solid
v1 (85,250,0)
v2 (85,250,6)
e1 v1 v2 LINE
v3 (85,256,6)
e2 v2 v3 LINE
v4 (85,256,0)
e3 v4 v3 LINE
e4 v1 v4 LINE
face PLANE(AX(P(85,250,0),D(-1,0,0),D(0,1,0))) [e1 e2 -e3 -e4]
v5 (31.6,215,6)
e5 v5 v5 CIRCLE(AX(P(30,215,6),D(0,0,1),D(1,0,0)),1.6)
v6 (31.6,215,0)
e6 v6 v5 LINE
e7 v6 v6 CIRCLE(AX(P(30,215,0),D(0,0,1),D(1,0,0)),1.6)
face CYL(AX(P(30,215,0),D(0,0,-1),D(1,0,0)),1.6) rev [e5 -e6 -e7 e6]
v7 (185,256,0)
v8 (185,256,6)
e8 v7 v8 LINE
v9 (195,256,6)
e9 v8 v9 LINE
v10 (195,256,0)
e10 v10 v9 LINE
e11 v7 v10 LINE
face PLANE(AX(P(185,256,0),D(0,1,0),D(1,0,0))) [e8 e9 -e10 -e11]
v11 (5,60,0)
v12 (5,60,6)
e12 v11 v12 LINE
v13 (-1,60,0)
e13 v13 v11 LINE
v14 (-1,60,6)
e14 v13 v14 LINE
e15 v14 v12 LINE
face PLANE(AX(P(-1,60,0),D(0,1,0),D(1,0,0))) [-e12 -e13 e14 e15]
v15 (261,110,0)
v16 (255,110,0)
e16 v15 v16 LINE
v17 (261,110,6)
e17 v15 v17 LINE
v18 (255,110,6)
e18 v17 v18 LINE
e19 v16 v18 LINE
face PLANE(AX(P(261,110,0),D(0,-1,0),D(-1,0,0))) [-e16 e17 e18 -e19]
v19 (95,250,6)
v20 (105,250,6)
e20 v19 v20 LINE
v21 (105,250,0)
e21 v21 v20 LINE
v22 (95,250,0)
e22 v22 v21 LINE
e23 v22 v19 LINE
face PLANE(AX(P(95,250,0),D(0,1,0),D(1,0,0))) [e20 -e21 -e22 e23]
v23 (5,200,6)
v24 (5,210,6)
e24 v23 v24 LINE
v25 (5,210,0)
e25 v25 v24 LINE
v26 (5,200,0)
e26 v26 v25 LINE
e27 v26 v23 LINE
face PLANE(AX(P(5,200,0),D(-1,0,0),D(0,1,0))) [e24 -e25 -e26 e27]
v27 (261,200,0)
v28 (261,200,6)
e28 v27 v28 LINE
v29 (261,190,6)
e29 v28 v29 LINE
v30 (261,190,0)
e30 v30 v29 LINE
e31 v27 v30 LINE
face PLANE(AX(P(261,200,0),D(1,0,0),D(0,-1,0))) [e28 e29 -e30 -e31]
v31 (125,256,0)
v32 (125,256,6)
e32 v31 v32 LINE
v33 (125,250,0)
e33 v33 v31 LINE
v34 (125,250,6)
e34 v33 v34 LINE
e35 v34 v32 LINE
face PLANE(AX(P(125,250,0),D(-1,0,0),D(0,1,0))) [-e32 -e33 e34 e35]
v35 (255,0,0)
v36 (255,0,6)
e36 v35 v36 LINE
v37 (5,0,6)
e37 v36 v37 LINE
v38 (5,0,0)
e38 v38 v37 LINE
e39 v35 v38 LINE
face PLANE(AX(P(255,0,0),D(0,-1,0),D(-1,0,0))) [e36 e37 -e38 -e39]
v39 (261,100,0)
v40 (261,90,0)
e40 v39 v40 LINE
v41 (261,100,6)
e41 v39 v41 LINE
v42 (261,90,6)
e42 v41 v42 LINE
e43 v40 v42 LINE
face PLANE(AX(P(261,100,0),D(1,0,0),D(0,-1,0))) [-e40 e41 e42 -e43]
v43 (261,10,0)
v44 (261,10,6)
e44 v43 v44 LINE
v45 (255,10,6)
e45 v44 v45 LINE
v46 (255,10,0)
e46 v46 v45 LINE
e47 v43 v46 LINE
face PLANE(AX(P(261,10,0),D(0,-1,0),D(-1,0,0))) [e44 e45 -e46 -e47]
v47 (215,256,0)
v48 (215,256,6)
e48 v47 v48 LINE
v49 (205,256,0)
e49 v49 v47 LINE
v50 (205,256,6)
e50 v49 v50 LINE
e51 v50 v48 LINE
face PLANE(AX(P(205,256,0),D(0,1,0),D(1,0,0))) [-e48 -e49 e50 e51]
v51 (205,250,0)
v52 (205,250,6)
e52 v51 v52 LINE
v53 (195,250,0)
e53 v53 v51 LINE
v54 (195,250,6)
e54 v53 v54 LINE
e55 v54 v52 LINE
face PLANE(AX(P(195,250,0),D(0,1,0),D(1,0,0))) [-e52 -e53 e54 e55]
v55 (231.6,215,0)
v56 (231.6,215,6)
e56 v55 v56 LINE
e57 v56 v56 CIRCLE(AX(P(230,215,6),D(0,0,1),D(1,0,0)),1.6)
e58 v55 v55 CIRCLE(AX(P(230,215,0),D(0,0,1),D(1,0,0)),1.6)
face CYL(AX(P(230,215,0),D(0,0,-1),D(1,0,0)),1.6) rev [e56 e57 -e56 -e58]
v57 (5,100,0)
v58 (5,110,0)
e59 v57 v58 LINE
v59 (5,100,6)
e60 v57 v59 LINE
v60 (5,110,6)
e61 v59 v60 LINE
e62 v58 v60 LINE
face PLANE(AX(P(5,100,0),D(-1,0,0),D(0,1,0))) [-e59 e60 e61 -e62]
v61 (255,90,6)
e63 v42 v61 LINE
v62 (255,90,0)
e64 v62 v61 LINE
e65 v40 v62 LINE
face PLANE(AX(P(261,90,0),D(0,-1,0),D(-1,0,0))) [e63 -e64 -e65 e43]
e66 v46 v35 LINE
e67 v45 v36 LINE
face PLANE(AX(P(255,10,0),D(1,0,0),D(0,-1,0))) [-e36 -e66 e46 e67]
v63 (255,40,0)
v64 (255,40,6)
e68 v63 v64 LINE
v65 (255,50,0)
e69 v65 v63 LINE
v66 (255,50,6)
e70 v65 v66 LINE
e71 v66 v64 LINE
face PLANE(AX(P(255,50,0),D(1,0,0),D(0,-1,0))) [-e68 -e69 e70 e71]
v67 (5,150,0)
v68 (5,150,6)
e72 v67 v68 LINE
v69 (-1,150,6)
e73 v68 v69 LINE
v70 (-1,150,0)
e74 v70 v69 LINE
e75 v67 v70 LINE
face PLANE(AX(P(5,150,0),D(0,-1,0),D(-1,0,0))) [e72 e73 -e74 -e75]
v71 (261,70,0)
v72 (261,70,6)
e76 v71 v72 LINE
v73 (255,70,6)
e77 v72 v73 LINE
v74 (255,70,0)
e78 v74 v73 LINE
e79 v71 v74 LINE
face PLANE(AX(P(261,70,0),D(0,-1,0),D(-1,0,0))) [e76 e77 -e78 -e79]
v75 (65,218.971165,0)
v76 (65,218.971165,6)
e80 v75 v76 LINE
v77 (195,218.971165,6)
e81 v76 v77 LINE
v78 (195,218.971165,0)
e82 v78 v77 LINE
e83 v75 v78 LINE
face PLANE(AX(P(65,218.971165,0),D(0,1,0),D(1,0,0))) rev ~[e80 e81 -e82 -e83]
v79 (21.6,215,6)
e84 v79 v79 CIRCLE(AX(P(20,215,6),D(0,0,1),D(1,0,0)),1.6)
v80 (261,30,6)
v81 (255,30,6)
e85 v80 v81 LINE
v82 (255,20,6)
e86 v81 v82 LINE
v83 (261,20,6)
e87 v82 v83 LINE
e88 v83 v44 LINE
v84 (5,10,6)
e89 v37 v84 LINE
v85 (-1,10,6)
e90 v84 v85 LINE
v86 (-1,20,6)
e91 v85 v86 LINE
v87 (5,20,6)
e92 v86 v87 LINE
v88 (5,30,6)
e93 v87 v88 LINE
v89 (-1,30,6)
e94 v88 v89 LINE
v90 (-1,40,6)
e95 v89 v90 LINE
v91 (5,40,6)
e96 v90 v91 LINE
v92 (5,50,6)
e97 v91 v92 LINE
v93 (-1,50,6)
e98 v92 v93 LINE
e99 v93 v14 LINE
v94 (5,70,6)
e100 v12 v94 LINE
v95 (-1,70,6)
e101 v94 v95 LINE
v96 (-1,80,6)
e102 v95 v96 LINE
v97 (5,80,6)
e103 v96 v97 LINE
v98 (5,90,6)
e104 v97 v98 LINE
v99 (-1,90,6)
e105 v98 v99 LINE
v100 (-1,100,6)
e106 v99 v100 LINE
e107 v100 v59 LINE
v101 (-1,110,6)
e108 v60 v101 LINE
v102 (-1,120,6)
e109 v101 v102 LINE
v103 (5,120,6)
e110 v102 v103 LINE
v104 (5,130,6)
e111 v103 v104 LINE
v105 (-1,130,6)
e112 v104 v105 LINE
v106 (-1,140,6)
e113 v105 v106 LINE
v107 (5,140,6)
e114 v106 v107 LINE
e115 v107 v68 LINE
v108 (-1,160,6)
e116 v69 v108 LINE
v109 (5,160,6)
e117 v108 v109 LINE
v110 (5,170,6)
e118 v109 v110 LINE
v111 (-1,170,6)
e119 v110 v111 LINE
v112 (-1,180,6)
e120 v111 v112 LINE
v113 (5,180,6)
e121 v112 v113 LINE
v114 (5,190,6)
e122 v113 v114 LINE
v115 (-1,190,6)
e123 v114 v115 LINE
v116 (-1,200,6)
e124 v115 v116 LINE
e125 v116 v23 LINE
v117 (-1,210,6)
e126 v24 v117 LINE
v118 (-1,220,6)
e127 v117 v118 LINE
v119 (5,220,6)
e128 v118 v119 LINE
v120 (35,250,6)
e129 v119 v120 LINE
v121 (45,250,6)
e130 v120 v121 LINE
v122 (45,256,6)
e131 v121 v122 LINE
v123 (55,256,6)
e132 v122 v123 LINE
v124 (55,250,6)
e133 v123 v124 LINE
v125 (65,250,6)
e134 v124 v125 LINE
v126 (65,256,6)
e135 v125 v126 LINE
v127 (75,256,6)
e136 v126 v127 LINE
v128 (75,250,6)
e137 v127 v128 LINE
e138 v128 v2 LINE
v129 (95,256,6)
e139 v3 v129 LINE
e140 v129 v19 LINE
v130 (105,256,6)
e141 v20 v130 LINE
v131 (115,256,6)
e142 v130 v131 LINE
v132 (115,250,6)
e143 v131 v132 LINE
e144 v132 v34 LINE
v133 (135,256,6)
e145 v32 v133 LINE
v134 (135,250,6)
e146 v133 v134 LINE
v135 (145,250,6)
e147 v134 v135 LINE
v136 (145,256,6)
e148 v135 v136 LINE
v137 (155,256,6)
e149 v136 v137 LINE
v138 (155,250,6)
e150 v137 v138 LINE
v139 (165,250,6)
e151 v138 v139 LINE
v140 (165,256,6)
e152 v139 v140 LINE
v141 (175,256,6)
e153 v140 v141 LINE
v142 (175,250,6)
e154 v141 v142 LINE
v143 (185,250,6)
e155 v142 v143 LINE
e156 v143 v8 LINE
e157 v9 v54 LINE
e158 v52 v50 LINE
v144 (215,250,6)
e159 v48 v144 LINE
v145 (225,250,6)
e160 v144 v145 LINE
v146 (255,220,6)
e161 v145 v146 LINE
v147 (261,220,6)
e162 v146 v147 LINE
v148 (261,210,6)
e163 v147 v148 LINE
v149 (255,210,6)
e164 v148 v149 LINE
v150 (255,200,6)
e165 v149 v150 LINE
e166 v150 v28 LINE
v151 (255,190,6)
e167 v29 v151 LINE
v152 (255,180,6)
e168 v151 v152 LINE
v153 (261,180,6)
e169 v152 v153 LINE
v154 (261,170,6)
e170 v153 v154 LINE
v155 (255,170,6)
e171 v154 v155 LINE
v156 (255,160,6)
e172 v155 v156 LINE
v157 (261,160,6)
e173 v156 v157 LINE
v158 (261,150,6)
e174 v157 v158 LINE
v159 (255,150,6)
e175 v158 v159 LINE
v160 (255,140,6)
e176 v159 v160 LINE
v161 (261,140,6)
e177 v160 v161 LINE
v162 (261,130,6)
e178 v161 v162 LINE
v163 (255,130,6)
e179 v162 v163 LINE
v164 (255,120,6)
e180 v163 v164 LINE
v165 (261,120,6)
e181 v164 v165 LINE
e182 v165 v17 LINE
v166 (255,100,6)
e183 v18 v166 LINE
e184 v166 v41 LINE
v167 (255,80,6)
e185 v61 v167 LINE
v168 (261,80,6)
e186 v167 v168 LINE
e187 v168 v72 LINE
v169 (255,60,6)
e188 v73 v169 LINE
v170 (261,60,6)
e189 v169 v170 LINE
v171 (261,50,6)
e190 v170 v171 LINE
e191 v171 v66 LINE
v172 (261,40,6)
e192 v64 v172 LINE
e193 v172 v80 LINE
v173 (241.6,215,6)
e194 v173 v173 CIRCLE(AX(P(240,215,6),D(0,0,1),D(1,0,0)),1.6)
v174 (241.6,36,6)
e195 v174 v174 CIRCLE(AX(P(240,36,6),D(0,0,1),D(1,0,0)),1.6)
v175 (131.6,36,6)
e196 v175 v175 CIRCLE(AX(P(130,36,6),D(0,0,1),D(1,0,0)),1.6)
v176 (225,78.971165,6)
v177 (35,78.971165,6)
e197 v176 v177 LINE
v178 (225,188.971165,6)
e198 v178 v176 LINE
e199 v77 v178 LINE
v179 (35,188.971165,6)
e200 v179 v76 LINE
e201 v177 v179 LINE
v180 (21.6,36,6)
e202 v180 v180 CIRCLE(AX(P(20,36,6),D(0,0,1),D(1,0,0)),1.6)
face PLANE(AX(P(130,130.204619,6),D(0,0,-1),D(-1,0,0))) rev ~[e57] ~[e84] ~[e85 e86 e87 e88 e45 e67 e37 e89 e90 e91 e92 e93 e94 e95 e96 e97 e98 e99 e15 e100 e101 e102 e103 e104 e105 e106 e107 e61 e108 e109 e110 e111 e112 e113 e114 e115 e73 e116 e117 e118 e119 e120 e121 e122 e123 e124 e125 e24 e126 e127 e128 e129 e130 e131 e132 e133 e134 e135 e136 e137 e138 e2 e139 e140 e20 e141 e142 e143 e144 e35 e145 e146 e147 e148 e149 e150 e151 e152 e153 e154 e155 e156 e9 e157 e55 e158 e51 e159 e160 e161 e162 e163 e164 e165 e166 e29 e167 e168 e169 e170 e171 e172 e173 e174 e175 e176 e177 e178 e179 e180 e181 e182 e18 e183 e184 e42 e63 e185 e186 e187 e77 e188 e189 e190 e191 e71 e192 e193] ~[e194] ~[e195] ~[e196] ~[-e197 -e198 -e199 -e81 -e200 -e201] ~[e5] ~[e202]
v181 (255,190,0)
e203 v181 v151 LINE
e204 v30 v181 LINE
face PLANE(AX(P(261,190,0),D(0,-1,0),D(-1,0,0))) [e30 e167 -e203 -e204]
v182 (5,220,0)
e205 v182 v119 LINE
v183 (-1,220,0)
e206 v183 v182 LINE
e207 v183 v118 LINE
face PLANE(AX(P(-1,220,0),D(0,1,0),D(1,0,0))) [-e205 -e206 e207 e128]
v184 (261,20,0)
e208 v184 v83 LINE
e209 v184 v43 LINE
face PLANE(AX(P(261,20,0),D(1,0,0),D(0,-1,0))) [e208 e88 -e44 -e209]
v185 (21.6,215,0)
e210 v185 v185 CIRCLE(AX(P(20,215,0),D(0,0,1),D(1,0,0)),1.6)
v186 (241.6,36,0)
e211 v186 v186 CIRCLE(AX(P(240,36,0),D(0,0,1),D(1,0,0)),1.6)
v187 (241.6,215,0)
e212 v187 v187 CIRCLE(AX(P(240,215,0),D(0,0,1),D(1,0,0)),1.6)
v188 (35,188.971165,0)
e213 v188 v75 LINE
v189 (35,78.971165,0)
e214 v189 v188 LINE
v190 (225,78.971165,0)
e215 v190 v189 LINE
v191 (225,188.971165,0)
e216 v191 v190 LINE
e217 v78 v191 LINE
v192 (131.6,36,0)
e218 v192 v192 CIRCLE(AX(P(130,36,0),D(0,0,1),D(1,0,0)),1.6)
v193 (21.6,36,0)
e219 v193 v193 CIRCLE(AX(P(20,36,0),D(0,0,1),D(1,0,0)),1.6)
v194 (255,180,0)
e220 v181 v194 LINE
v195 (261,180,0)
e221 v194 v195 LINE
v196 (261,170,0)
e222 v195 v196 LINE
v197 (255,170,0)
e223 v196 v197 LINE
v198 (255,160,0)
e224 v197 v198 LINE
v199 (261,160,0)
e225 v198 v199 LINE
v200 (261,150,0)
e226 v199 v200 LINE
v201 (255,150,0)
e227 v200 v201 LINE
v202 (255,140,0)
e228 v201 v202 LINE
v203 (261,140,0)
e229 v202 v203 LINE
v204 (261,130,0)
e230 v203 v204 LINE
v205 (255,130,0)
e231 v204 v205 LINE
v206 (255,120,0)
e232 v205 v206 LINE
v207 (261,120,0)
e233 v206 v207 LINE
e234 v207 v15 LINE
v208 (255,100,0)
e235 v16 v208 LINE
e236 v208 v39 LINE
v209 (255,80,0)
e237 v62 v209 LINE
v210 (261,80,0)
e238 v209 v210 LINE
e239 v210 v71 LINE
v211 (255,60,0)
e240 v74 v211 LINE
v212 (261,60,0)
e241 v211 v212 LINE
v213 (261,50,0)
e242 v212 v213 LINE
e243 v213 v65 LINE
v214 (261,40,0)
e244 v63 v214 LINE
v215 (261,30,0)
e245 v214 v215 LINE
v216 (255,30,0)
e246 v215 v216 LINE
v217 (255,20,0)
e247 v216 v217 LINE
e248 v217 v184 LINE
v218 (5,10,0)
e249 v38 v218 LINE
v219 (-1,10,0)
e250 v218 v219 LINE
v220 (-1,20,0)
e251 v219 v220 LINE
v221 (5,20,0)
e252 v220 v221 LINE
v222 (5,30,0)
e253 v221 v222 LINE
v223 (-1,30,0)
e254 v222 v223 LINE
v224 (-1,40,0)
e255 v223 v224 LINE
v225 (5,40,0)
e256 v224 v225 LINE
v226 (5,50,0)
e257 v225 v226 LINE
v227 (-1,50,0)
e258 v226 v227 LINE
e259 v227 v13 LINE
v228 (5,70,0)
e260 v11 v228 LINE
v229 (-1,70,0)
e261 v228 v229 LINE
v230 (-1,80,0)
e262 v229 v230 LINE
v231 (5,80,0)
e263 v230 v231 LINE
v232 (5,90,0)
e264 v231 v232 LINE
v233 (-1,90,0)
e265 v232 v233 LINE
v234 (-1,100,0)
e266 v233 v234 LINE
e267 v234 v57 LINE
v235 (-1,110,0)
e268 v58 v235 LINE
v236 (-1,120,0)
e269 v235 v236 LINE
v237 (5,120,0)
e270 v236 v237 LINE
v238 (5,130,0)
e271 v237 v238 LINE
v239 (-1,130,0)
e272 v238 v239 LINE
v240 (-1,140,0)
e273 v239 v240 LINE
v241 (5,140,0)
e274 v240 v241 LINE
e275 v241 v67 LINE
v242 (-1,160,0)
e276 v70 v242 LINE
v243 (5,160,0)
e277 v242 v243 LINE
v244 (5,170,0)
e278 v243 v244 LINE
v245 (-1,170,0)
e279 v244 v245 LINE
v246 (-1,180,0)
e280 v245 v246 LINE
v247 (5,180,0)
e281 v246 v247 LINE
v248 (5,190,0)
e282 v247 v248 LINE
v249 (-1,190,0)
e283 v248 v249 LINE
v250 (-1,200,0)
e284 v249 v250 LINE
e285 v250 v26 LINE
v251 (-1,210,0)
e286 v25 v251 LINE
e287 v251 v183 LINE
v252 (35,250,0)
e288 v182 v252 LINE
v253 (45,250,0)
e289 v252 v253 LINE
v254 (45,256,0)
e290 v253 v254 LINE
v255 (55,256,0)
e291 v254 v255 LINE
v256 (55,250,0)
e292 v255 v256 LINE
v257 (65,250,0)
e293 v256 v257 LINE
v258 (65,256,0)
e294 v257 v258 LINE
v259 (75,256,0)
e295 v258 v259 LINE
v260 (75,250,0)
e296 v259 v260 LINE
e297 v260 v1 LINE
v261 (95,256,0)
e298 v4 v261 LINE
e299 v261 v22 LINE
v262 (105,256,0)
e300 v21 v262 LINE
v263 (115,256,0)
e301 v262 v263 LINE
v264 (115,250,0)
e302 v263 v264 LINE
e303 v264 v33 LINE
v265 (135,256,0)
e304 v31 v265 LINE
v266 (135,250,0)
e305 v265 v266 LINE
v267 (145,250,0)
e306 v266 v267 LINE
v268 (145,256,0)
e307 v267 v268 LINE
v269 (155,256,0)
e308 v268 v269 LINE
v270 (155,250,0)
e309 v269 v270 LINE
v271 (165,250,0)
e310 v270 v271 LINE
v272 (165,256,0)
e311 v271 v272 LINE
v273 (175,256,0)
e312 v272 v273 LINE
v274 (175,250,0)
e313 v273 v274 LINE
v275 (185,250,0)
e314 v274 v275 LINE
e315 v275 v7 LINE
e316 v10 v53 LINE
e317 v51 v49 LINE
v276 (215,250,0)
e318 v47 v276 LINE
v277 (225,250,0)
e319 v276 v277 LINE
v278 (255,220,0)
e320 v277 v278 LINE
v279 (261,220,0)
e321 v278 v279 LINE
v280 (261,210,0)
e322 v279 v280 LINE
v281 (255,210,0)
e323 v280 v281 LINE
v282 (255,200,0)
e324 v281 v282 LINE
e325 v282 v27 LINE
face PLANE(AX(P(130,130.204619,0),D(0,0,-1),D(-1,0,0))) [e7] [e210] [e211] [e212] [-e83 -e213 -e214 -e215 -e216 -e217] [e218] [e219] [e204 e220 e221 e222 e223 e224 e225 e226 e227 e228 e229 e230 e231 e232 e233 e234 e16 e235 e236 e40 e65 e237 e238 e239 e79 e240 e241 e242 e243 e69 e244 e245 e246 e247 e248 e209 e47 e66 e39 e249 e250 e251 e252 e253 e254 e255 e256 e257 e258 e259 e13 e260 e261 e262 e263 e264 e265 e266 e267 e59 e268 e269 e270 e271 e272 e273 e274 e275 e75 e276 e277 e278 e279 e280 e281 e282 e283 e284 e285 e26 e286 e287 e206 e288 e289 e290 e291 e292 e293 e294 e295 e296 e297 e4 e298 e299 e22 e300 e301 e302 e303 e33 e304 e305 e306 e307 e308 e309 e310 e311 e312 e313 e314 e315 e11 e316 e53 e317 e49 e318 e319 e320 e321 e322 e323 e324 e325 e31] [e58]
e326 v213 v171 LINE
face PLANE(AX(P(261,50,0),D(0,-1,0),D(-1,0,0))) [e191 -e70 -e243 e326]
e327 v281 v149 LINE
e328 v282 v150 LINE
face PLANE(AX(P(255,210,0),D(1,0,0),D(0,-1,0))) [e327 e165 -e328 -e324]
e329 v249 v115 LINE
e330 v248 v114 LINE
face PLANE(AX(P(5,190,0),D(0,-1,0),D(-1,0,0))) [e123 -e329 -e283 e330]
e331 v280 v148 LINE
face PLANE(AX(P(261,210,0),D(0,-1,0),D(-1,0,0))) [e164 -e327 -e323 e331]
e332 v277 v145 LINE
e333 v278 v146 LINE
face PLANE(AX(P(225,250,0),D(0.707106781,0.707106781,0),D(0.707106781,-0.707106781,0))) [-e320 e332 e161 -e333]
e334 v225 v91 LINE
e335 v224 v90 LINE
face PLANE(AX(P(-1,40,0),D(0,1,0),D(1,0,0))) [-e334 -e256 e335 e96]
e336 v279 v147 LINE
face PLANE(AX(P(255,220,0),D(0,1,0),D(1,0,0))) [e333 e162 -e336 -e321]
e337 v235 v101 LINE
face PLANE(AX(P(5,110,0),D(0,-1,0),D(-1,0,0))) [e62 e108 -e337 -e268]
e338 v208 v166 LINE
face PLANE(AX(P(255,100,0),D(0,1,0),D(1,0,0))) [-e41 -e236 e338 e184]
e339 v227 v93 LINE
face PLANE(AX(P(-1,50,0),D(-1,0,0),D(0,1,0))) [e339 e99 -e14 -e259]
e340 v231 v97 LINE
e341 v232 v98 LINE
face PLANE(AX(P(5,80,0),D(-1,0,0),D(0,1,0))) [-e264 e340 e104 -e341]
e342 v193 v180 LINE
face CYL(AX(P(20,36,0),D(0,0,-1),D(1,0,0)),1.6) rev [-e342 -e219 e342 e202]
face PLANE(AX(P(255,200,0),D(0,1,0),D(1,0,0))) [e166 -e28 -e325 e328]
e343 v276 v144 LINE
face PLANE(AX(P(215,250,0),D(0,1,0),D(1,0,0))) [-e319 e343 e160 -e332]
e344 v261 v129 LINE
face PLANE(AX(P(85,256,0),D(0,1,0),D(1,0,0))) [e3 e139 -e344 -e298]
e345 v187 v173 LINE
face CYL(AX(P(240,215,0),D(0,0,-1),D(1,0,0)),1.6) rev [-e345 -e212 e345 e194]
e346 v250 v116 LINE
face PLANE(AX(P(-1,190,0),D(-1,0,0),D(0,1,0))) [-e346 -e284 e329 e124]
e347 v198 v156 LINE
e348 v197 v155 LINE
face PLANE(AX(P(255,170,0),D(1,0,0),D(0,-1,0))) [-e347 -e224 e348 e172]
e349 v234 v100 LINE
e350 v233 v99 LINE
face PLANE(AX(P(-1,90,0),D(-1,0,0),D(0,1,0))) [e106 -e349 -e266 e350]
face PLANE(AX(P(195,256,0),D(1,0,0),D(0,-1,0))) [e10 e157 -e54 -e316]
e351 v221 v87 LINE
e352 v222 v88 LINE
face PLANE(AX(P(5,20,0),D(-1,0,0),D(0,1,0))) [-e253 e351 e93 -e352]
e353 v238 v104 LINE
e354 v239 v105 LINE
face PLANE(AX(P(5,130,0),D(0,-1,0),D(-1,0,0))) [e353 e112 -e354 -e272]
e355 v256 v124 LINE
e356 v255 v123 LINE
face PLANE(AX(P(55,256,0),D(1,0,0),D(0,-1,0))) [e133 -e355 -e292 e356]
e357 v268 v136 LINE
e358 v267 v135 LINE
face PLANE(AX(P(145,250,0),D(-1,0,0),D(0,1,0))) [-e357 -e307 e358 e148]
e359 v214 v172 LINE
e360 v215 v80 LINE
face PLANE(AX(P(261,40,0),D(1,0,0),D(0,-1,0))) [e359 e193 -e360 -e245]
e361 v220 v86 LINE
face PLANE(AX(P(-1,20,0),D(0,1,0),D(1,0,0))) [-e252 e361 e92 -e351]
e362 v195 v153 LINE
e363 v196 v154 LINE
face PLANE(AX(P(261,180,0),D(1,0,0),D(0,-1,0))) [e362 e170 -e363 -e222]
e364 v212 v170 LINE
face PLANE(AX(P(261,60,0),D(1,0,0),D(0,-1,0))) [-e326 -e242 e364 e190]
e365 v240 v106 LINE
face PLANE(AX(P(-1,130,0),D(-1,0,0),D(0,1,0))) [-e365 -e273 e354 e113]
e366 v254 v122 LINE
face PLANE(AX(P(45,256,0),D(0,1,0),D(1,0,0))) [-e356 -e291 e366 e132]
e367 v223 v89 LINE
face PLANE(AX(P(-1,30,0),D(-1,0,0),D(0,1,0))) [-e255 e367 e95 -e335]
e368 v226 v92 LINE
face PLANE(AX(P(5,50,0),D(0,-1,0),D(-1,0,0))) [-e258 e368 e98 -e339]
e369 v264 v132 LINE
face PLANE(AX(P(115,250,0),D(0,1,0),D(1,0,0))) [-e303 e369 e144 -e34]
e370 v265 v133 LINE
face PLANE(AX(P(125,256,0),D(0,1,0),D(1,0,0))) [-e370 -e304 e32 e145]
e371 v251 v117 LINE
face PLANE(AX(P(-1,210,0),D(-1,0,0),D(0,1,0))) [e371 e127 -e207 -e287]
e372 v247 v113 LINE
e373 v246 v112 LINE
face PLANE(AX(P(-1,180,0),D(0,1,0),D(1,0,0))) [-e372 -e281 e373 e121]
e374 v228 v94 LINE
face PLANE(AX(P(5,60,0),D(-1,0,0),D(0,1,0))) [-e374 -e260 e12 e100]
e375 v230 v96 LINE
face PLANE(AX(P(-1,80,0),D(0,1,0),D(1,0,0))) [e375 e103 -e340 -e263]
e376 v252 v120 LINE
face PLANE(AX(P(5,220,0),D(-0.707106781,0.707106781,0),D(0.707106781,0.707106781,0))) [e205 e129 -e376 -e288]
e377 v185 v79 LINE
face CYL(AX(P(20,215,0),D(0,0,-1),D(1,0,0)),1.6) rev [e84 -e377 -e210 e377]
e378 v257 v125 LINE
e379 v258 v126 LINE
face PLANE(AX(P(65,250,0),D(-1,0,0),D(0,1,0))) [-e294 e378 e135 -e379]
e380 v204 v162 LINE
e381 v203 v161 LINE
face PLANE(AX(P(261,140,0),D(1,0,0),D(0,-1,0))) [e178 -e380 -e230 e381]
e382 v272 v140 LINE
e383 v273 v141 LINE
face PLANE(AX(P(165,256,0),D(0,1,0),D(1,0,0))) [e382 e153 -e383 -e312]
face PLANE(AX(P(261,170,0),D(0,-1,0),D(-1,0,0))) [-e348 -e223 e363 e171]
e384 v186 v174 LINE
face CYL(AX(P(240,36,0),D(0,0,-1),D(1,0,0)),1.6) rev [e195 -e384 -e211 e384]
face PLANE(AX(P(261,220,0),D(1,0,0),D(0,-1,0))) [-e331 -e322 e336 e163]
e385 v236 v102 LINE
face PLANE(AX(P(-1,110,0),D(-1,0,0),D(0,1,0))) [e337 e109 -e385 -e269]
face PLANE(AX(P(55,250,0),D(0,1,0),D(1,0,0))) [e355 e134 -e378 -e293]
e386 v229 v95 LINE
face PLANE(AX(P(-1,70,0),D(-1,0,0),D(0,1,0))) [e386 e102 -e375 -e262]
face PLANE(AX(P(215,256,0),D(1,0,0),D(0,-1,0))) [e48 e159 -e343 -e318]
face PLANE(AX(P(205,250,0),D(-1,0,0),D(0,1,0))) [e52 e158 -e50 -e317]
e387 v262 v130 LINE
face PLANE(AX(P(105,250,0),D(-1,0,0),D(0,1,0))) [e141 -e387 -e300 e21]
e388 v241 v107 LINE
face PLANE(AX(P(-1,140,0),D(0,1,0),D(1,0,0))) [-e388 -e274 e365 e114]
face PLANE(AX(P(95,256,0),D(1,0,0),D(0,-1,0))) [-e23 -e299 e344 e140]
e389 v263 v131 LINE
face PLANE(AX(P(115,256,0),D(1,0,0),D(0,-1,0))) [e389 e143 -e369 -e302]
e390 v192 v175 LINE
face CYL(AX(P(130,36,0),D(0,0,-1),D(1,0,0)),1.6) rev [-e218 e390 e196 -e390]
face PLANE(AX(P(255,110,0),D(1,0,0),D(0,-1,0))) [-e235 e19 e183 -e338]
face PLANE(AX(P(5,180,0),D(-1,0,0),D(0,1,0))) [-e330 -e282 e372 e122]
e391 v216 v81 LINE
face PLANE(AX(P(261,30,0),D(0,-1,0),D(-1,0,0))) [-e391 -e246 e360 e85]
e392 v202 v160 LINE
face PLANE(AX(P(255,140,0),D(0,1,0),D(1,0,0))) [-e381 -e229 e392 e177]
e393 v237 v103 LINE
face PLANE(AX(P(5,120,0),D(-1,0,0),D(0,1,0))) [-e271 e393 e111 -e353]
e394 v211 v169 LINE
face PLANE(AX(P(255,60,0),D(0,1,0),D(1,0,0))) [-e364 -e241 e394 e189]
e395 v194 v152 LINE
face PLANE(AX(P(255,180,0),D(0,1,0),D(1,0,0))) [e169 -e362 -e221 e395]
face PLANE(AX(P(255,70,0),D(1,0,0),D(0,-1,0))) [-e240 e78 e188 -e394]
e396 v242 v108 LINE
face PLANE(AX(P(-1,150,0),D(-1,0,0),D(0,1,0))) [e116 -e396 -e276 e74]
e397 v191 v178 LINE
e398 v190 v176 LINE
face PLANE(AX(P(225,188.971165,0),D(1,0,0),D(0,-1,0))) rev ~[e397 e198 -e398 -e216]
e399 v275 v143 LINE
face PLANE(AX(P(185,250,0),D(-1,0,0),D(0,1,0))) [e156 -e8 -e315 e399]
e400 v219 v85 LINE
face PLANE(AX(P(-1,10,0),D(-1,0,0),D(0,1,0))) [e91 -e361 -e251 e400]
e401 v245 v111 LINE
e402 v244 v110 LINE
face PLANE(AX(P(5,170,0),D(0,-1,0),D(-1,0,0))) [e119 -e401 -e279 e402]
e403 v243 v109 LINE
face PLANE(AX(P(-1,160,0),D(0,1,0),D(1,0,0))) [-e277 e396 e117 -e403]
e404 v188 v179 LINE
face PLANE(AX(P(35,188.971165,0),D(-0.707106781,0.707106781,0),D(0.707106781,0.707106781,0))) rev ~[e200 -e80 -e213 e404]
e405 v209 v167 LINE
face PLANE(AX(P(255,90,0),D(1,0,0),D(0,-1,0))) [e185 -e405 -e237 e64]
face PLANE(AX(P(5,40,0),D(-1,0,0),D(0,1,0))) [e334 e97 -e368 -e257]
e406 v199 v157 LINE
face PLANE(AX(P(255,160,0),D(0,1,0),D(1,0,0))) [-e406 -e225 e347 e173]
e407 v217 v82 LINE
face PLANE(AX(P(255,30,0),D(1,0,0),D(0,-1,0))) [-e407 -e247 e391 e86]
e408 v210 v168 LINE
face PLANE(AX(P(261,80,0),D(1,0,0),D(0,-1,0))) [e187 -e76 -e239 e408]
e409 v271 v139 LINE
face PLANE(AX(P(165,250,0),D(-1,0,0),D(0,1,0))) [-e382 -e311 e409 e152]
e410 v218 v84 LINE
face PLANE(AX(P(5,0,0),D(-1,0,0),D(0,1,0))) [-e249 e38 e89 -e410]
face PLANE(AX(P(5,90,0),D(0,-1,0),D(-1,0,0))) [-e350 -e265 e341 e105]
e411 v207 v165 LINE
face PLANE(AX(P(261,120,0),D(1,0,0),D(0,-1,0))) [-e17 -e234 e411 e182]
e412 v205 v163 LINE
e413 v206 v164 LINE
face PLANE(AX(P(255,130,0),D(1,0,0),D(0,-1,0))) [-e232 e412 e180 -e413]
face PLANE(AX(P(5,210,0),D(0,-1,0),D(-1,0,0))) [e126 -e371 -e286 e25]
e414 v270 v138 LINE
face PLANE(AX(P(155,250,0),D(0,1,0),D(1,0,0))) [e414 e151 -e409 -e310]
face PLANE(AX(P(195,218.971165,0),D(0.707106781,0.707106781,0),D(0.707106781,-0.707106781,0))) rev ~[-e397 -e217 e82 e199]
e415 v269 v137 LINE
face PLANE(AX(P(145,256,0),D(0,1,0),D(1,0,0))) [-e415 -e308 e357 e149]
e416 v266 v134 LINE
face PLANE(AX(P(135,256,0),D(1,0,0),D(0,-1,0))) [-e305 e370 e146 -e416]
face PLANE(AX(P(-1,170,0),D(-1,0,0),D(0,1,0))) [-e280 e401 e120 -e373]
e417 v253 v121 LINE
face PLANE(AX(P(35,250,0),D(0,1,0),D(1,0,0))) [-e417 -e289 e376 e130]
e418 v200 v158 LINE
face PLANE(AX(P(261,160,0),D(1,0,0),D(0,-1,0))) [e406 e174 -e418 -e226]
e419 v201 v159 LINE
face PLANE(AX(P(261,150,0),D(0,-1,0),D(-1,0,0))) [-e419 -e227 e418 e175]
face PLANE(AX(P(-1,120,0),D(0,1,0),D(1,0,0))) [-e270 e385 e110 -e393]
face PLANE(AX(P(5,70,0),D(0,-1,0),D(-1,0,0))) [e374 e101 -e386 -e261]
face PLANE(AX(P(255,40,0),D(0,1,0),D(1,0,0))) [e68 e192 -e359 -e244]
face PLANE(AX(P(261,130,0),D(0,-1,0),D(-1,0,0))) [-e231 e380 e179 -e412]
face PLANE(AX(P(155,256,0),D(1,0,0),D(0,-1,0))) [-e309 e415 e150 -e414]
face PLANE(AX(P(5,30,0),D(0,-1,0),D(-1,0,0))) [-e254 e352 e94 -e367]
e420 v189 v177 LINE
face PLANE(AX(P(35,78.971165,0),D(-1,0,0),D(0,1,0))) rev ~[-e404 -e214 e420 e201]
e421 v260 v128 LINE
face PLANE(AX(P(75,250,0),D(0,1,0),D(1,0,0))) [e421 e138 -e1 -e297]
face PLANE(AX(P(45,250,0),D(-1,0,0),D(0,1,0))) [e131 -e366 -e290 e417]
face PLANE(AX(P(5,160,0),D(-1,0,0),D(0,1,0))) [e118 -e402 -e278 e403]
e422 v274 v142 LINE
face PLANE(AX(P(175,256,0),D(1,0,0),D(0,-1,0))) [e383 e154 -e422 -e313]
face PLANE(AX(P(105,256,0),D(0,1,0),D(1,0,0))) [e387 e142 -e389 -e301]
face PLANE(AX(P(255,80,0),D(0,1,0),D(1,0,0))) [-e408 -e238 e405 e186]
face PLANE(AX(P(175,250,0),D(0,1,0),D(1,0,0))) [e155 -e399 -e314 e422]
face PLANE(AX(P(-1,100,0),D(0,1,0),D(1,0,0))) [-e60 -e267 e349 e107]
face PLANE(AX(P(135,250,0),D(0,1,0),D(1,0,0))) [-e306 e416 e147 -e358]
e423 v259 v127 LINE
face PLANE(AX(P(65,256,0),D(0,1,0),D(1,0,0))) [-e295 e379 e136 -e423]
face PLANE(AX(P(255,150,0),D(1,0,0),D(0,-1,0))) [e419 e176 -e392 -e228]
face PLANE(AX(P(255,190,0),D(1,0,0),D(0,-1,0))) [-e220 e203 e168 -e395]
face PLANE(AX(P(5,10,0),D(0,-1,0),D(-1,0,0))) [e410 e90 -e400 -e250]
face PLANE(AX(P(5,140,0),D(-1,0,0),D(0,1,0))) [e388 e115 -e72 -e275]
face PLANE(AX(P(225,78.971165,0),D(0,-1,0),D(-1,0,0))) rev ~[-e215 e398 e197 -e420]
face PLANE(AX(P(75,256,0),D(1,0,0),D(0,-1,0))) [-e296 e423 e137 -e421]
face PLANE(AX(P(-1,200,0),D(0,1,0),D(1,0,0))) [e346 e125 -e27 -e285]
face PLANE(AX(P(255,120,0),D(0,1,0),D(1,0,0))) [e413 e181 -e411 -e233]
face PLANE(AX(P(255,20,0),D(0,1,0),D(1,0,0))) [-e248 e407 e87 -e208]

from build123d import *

# Parameters (mm, degrees)
SKIZZE1_R                       = 1.6
AUFSATZ_LINEAR_AUSTRAGEN1_DEPTH = 6


with BuildPart() as part:
    # Skizze1 → Aufsatz-Linear austragen1 (new body)
    with BuildSketch(Plane.XY):
        Polygon((35, 250), (45, 250), (45, 256), (55, 256), (55, 250), (65, 250), (65, 256), (75, 256), (75, 250), (85, 250), (85, 256), (95, 256), (95, 250), (105, 250), (105, 256), (115, 256), (115, 250), (125, 250), (125, 256), (135, 256), (135, 250), (145, 250), (145, 256), (155, 256), (155, 250), (165, 250), (165, 256), (175, 256), (175, 250), (185, 250), (185, 256), (195, 256), (195, 250), (205, 250), (205, 256), (215, 256), (215, 250), (225, 250), (255, 220), (261, 220), (261, 210), (255, 210), (255, 200), (261, 200), (261, 190), (255, 190), (255, 180), (261, 180), (261, 170), (255, 170), (255, 160), (261, 160), (261, 150), (255, 150), (255, 140), (261, 140), (261, 130), (255, 130), (255, 120), (261, 120), (261, 110), (255, 110), (255, 100), (261, 100), (261, 90), (255, 90), (255, 80), (261, 80), (261, 70), (255, 70), (255, 60), (261, 60), (261, 50), (255, 50), (255, 40), (261, 40), (261, 30), (255, 30), (255, 20), (261, 20), (261, 10), (255, 10), (255, 0), (5, 0), (5, 10), (-1, 10), (-1, 20), (5, 20), (5, 30), (-1, 30), (-1, 40), (5, 40), (5, 50), (-1, 50), (-1, 60), (5, 60), (5, 70), (-1, 70), (-1, 80), (5, 80), (5, 90), (-1, 90), (-1, 100), (5, 100), (5, 110), (-1, 110), (-1, 120), (5, 120), (5, 130), (-1, 130), (-1, 140), (5, 140), (5, 150), (-1, 150), (-1, 160), (5, 160), (5, 170), (-1, 170), (-1, 180), (5, 180), (5, 190), (-1, 190), (-1, 200), (5, 200), (5, 210), (-1, 210), (-1, 220), (5, 220), align=None)
        with Locations((20, 215)):
            Circle(SKIZZE1_R, mode=Mode.SUBTRACT)
        with Locations((30, 215)):
            Circle(SKIZZE1_R, mode=Mode.SUBTRACT)
        with Locations((240, 215)):
            Circle(SKIZZE1_R, mode=Mode.SUBTRACT)
        with Locations((230, 215)):
            Circle(SKIZZE1_R, mode=Mode.SUBTRACT)
        with Locations((20, 36)):
            Circle(SKIZZE1_R, mode=Mode.SUBTRACT)
        with Locations((130, 36)):
            Circle(SKIZZE1_R, mode=Mode.SUBTRACT)
        with Locations((240, 36)):
            Circle(SKIZZE1_R, mode=Mode.SUBTRACT)
        Polygon((65, 218.971165398), (195, 218.971165398), (225, 188.971165398), (225, 78.971165398), (35, 78.971165398), (35, 188.971165398), align=None, mode=Mode.SUBTRACT)
    extrude(amount=AUFSATZ_LINEAR_AUSTRAGEN1_DEPTH)


solid = part.part
